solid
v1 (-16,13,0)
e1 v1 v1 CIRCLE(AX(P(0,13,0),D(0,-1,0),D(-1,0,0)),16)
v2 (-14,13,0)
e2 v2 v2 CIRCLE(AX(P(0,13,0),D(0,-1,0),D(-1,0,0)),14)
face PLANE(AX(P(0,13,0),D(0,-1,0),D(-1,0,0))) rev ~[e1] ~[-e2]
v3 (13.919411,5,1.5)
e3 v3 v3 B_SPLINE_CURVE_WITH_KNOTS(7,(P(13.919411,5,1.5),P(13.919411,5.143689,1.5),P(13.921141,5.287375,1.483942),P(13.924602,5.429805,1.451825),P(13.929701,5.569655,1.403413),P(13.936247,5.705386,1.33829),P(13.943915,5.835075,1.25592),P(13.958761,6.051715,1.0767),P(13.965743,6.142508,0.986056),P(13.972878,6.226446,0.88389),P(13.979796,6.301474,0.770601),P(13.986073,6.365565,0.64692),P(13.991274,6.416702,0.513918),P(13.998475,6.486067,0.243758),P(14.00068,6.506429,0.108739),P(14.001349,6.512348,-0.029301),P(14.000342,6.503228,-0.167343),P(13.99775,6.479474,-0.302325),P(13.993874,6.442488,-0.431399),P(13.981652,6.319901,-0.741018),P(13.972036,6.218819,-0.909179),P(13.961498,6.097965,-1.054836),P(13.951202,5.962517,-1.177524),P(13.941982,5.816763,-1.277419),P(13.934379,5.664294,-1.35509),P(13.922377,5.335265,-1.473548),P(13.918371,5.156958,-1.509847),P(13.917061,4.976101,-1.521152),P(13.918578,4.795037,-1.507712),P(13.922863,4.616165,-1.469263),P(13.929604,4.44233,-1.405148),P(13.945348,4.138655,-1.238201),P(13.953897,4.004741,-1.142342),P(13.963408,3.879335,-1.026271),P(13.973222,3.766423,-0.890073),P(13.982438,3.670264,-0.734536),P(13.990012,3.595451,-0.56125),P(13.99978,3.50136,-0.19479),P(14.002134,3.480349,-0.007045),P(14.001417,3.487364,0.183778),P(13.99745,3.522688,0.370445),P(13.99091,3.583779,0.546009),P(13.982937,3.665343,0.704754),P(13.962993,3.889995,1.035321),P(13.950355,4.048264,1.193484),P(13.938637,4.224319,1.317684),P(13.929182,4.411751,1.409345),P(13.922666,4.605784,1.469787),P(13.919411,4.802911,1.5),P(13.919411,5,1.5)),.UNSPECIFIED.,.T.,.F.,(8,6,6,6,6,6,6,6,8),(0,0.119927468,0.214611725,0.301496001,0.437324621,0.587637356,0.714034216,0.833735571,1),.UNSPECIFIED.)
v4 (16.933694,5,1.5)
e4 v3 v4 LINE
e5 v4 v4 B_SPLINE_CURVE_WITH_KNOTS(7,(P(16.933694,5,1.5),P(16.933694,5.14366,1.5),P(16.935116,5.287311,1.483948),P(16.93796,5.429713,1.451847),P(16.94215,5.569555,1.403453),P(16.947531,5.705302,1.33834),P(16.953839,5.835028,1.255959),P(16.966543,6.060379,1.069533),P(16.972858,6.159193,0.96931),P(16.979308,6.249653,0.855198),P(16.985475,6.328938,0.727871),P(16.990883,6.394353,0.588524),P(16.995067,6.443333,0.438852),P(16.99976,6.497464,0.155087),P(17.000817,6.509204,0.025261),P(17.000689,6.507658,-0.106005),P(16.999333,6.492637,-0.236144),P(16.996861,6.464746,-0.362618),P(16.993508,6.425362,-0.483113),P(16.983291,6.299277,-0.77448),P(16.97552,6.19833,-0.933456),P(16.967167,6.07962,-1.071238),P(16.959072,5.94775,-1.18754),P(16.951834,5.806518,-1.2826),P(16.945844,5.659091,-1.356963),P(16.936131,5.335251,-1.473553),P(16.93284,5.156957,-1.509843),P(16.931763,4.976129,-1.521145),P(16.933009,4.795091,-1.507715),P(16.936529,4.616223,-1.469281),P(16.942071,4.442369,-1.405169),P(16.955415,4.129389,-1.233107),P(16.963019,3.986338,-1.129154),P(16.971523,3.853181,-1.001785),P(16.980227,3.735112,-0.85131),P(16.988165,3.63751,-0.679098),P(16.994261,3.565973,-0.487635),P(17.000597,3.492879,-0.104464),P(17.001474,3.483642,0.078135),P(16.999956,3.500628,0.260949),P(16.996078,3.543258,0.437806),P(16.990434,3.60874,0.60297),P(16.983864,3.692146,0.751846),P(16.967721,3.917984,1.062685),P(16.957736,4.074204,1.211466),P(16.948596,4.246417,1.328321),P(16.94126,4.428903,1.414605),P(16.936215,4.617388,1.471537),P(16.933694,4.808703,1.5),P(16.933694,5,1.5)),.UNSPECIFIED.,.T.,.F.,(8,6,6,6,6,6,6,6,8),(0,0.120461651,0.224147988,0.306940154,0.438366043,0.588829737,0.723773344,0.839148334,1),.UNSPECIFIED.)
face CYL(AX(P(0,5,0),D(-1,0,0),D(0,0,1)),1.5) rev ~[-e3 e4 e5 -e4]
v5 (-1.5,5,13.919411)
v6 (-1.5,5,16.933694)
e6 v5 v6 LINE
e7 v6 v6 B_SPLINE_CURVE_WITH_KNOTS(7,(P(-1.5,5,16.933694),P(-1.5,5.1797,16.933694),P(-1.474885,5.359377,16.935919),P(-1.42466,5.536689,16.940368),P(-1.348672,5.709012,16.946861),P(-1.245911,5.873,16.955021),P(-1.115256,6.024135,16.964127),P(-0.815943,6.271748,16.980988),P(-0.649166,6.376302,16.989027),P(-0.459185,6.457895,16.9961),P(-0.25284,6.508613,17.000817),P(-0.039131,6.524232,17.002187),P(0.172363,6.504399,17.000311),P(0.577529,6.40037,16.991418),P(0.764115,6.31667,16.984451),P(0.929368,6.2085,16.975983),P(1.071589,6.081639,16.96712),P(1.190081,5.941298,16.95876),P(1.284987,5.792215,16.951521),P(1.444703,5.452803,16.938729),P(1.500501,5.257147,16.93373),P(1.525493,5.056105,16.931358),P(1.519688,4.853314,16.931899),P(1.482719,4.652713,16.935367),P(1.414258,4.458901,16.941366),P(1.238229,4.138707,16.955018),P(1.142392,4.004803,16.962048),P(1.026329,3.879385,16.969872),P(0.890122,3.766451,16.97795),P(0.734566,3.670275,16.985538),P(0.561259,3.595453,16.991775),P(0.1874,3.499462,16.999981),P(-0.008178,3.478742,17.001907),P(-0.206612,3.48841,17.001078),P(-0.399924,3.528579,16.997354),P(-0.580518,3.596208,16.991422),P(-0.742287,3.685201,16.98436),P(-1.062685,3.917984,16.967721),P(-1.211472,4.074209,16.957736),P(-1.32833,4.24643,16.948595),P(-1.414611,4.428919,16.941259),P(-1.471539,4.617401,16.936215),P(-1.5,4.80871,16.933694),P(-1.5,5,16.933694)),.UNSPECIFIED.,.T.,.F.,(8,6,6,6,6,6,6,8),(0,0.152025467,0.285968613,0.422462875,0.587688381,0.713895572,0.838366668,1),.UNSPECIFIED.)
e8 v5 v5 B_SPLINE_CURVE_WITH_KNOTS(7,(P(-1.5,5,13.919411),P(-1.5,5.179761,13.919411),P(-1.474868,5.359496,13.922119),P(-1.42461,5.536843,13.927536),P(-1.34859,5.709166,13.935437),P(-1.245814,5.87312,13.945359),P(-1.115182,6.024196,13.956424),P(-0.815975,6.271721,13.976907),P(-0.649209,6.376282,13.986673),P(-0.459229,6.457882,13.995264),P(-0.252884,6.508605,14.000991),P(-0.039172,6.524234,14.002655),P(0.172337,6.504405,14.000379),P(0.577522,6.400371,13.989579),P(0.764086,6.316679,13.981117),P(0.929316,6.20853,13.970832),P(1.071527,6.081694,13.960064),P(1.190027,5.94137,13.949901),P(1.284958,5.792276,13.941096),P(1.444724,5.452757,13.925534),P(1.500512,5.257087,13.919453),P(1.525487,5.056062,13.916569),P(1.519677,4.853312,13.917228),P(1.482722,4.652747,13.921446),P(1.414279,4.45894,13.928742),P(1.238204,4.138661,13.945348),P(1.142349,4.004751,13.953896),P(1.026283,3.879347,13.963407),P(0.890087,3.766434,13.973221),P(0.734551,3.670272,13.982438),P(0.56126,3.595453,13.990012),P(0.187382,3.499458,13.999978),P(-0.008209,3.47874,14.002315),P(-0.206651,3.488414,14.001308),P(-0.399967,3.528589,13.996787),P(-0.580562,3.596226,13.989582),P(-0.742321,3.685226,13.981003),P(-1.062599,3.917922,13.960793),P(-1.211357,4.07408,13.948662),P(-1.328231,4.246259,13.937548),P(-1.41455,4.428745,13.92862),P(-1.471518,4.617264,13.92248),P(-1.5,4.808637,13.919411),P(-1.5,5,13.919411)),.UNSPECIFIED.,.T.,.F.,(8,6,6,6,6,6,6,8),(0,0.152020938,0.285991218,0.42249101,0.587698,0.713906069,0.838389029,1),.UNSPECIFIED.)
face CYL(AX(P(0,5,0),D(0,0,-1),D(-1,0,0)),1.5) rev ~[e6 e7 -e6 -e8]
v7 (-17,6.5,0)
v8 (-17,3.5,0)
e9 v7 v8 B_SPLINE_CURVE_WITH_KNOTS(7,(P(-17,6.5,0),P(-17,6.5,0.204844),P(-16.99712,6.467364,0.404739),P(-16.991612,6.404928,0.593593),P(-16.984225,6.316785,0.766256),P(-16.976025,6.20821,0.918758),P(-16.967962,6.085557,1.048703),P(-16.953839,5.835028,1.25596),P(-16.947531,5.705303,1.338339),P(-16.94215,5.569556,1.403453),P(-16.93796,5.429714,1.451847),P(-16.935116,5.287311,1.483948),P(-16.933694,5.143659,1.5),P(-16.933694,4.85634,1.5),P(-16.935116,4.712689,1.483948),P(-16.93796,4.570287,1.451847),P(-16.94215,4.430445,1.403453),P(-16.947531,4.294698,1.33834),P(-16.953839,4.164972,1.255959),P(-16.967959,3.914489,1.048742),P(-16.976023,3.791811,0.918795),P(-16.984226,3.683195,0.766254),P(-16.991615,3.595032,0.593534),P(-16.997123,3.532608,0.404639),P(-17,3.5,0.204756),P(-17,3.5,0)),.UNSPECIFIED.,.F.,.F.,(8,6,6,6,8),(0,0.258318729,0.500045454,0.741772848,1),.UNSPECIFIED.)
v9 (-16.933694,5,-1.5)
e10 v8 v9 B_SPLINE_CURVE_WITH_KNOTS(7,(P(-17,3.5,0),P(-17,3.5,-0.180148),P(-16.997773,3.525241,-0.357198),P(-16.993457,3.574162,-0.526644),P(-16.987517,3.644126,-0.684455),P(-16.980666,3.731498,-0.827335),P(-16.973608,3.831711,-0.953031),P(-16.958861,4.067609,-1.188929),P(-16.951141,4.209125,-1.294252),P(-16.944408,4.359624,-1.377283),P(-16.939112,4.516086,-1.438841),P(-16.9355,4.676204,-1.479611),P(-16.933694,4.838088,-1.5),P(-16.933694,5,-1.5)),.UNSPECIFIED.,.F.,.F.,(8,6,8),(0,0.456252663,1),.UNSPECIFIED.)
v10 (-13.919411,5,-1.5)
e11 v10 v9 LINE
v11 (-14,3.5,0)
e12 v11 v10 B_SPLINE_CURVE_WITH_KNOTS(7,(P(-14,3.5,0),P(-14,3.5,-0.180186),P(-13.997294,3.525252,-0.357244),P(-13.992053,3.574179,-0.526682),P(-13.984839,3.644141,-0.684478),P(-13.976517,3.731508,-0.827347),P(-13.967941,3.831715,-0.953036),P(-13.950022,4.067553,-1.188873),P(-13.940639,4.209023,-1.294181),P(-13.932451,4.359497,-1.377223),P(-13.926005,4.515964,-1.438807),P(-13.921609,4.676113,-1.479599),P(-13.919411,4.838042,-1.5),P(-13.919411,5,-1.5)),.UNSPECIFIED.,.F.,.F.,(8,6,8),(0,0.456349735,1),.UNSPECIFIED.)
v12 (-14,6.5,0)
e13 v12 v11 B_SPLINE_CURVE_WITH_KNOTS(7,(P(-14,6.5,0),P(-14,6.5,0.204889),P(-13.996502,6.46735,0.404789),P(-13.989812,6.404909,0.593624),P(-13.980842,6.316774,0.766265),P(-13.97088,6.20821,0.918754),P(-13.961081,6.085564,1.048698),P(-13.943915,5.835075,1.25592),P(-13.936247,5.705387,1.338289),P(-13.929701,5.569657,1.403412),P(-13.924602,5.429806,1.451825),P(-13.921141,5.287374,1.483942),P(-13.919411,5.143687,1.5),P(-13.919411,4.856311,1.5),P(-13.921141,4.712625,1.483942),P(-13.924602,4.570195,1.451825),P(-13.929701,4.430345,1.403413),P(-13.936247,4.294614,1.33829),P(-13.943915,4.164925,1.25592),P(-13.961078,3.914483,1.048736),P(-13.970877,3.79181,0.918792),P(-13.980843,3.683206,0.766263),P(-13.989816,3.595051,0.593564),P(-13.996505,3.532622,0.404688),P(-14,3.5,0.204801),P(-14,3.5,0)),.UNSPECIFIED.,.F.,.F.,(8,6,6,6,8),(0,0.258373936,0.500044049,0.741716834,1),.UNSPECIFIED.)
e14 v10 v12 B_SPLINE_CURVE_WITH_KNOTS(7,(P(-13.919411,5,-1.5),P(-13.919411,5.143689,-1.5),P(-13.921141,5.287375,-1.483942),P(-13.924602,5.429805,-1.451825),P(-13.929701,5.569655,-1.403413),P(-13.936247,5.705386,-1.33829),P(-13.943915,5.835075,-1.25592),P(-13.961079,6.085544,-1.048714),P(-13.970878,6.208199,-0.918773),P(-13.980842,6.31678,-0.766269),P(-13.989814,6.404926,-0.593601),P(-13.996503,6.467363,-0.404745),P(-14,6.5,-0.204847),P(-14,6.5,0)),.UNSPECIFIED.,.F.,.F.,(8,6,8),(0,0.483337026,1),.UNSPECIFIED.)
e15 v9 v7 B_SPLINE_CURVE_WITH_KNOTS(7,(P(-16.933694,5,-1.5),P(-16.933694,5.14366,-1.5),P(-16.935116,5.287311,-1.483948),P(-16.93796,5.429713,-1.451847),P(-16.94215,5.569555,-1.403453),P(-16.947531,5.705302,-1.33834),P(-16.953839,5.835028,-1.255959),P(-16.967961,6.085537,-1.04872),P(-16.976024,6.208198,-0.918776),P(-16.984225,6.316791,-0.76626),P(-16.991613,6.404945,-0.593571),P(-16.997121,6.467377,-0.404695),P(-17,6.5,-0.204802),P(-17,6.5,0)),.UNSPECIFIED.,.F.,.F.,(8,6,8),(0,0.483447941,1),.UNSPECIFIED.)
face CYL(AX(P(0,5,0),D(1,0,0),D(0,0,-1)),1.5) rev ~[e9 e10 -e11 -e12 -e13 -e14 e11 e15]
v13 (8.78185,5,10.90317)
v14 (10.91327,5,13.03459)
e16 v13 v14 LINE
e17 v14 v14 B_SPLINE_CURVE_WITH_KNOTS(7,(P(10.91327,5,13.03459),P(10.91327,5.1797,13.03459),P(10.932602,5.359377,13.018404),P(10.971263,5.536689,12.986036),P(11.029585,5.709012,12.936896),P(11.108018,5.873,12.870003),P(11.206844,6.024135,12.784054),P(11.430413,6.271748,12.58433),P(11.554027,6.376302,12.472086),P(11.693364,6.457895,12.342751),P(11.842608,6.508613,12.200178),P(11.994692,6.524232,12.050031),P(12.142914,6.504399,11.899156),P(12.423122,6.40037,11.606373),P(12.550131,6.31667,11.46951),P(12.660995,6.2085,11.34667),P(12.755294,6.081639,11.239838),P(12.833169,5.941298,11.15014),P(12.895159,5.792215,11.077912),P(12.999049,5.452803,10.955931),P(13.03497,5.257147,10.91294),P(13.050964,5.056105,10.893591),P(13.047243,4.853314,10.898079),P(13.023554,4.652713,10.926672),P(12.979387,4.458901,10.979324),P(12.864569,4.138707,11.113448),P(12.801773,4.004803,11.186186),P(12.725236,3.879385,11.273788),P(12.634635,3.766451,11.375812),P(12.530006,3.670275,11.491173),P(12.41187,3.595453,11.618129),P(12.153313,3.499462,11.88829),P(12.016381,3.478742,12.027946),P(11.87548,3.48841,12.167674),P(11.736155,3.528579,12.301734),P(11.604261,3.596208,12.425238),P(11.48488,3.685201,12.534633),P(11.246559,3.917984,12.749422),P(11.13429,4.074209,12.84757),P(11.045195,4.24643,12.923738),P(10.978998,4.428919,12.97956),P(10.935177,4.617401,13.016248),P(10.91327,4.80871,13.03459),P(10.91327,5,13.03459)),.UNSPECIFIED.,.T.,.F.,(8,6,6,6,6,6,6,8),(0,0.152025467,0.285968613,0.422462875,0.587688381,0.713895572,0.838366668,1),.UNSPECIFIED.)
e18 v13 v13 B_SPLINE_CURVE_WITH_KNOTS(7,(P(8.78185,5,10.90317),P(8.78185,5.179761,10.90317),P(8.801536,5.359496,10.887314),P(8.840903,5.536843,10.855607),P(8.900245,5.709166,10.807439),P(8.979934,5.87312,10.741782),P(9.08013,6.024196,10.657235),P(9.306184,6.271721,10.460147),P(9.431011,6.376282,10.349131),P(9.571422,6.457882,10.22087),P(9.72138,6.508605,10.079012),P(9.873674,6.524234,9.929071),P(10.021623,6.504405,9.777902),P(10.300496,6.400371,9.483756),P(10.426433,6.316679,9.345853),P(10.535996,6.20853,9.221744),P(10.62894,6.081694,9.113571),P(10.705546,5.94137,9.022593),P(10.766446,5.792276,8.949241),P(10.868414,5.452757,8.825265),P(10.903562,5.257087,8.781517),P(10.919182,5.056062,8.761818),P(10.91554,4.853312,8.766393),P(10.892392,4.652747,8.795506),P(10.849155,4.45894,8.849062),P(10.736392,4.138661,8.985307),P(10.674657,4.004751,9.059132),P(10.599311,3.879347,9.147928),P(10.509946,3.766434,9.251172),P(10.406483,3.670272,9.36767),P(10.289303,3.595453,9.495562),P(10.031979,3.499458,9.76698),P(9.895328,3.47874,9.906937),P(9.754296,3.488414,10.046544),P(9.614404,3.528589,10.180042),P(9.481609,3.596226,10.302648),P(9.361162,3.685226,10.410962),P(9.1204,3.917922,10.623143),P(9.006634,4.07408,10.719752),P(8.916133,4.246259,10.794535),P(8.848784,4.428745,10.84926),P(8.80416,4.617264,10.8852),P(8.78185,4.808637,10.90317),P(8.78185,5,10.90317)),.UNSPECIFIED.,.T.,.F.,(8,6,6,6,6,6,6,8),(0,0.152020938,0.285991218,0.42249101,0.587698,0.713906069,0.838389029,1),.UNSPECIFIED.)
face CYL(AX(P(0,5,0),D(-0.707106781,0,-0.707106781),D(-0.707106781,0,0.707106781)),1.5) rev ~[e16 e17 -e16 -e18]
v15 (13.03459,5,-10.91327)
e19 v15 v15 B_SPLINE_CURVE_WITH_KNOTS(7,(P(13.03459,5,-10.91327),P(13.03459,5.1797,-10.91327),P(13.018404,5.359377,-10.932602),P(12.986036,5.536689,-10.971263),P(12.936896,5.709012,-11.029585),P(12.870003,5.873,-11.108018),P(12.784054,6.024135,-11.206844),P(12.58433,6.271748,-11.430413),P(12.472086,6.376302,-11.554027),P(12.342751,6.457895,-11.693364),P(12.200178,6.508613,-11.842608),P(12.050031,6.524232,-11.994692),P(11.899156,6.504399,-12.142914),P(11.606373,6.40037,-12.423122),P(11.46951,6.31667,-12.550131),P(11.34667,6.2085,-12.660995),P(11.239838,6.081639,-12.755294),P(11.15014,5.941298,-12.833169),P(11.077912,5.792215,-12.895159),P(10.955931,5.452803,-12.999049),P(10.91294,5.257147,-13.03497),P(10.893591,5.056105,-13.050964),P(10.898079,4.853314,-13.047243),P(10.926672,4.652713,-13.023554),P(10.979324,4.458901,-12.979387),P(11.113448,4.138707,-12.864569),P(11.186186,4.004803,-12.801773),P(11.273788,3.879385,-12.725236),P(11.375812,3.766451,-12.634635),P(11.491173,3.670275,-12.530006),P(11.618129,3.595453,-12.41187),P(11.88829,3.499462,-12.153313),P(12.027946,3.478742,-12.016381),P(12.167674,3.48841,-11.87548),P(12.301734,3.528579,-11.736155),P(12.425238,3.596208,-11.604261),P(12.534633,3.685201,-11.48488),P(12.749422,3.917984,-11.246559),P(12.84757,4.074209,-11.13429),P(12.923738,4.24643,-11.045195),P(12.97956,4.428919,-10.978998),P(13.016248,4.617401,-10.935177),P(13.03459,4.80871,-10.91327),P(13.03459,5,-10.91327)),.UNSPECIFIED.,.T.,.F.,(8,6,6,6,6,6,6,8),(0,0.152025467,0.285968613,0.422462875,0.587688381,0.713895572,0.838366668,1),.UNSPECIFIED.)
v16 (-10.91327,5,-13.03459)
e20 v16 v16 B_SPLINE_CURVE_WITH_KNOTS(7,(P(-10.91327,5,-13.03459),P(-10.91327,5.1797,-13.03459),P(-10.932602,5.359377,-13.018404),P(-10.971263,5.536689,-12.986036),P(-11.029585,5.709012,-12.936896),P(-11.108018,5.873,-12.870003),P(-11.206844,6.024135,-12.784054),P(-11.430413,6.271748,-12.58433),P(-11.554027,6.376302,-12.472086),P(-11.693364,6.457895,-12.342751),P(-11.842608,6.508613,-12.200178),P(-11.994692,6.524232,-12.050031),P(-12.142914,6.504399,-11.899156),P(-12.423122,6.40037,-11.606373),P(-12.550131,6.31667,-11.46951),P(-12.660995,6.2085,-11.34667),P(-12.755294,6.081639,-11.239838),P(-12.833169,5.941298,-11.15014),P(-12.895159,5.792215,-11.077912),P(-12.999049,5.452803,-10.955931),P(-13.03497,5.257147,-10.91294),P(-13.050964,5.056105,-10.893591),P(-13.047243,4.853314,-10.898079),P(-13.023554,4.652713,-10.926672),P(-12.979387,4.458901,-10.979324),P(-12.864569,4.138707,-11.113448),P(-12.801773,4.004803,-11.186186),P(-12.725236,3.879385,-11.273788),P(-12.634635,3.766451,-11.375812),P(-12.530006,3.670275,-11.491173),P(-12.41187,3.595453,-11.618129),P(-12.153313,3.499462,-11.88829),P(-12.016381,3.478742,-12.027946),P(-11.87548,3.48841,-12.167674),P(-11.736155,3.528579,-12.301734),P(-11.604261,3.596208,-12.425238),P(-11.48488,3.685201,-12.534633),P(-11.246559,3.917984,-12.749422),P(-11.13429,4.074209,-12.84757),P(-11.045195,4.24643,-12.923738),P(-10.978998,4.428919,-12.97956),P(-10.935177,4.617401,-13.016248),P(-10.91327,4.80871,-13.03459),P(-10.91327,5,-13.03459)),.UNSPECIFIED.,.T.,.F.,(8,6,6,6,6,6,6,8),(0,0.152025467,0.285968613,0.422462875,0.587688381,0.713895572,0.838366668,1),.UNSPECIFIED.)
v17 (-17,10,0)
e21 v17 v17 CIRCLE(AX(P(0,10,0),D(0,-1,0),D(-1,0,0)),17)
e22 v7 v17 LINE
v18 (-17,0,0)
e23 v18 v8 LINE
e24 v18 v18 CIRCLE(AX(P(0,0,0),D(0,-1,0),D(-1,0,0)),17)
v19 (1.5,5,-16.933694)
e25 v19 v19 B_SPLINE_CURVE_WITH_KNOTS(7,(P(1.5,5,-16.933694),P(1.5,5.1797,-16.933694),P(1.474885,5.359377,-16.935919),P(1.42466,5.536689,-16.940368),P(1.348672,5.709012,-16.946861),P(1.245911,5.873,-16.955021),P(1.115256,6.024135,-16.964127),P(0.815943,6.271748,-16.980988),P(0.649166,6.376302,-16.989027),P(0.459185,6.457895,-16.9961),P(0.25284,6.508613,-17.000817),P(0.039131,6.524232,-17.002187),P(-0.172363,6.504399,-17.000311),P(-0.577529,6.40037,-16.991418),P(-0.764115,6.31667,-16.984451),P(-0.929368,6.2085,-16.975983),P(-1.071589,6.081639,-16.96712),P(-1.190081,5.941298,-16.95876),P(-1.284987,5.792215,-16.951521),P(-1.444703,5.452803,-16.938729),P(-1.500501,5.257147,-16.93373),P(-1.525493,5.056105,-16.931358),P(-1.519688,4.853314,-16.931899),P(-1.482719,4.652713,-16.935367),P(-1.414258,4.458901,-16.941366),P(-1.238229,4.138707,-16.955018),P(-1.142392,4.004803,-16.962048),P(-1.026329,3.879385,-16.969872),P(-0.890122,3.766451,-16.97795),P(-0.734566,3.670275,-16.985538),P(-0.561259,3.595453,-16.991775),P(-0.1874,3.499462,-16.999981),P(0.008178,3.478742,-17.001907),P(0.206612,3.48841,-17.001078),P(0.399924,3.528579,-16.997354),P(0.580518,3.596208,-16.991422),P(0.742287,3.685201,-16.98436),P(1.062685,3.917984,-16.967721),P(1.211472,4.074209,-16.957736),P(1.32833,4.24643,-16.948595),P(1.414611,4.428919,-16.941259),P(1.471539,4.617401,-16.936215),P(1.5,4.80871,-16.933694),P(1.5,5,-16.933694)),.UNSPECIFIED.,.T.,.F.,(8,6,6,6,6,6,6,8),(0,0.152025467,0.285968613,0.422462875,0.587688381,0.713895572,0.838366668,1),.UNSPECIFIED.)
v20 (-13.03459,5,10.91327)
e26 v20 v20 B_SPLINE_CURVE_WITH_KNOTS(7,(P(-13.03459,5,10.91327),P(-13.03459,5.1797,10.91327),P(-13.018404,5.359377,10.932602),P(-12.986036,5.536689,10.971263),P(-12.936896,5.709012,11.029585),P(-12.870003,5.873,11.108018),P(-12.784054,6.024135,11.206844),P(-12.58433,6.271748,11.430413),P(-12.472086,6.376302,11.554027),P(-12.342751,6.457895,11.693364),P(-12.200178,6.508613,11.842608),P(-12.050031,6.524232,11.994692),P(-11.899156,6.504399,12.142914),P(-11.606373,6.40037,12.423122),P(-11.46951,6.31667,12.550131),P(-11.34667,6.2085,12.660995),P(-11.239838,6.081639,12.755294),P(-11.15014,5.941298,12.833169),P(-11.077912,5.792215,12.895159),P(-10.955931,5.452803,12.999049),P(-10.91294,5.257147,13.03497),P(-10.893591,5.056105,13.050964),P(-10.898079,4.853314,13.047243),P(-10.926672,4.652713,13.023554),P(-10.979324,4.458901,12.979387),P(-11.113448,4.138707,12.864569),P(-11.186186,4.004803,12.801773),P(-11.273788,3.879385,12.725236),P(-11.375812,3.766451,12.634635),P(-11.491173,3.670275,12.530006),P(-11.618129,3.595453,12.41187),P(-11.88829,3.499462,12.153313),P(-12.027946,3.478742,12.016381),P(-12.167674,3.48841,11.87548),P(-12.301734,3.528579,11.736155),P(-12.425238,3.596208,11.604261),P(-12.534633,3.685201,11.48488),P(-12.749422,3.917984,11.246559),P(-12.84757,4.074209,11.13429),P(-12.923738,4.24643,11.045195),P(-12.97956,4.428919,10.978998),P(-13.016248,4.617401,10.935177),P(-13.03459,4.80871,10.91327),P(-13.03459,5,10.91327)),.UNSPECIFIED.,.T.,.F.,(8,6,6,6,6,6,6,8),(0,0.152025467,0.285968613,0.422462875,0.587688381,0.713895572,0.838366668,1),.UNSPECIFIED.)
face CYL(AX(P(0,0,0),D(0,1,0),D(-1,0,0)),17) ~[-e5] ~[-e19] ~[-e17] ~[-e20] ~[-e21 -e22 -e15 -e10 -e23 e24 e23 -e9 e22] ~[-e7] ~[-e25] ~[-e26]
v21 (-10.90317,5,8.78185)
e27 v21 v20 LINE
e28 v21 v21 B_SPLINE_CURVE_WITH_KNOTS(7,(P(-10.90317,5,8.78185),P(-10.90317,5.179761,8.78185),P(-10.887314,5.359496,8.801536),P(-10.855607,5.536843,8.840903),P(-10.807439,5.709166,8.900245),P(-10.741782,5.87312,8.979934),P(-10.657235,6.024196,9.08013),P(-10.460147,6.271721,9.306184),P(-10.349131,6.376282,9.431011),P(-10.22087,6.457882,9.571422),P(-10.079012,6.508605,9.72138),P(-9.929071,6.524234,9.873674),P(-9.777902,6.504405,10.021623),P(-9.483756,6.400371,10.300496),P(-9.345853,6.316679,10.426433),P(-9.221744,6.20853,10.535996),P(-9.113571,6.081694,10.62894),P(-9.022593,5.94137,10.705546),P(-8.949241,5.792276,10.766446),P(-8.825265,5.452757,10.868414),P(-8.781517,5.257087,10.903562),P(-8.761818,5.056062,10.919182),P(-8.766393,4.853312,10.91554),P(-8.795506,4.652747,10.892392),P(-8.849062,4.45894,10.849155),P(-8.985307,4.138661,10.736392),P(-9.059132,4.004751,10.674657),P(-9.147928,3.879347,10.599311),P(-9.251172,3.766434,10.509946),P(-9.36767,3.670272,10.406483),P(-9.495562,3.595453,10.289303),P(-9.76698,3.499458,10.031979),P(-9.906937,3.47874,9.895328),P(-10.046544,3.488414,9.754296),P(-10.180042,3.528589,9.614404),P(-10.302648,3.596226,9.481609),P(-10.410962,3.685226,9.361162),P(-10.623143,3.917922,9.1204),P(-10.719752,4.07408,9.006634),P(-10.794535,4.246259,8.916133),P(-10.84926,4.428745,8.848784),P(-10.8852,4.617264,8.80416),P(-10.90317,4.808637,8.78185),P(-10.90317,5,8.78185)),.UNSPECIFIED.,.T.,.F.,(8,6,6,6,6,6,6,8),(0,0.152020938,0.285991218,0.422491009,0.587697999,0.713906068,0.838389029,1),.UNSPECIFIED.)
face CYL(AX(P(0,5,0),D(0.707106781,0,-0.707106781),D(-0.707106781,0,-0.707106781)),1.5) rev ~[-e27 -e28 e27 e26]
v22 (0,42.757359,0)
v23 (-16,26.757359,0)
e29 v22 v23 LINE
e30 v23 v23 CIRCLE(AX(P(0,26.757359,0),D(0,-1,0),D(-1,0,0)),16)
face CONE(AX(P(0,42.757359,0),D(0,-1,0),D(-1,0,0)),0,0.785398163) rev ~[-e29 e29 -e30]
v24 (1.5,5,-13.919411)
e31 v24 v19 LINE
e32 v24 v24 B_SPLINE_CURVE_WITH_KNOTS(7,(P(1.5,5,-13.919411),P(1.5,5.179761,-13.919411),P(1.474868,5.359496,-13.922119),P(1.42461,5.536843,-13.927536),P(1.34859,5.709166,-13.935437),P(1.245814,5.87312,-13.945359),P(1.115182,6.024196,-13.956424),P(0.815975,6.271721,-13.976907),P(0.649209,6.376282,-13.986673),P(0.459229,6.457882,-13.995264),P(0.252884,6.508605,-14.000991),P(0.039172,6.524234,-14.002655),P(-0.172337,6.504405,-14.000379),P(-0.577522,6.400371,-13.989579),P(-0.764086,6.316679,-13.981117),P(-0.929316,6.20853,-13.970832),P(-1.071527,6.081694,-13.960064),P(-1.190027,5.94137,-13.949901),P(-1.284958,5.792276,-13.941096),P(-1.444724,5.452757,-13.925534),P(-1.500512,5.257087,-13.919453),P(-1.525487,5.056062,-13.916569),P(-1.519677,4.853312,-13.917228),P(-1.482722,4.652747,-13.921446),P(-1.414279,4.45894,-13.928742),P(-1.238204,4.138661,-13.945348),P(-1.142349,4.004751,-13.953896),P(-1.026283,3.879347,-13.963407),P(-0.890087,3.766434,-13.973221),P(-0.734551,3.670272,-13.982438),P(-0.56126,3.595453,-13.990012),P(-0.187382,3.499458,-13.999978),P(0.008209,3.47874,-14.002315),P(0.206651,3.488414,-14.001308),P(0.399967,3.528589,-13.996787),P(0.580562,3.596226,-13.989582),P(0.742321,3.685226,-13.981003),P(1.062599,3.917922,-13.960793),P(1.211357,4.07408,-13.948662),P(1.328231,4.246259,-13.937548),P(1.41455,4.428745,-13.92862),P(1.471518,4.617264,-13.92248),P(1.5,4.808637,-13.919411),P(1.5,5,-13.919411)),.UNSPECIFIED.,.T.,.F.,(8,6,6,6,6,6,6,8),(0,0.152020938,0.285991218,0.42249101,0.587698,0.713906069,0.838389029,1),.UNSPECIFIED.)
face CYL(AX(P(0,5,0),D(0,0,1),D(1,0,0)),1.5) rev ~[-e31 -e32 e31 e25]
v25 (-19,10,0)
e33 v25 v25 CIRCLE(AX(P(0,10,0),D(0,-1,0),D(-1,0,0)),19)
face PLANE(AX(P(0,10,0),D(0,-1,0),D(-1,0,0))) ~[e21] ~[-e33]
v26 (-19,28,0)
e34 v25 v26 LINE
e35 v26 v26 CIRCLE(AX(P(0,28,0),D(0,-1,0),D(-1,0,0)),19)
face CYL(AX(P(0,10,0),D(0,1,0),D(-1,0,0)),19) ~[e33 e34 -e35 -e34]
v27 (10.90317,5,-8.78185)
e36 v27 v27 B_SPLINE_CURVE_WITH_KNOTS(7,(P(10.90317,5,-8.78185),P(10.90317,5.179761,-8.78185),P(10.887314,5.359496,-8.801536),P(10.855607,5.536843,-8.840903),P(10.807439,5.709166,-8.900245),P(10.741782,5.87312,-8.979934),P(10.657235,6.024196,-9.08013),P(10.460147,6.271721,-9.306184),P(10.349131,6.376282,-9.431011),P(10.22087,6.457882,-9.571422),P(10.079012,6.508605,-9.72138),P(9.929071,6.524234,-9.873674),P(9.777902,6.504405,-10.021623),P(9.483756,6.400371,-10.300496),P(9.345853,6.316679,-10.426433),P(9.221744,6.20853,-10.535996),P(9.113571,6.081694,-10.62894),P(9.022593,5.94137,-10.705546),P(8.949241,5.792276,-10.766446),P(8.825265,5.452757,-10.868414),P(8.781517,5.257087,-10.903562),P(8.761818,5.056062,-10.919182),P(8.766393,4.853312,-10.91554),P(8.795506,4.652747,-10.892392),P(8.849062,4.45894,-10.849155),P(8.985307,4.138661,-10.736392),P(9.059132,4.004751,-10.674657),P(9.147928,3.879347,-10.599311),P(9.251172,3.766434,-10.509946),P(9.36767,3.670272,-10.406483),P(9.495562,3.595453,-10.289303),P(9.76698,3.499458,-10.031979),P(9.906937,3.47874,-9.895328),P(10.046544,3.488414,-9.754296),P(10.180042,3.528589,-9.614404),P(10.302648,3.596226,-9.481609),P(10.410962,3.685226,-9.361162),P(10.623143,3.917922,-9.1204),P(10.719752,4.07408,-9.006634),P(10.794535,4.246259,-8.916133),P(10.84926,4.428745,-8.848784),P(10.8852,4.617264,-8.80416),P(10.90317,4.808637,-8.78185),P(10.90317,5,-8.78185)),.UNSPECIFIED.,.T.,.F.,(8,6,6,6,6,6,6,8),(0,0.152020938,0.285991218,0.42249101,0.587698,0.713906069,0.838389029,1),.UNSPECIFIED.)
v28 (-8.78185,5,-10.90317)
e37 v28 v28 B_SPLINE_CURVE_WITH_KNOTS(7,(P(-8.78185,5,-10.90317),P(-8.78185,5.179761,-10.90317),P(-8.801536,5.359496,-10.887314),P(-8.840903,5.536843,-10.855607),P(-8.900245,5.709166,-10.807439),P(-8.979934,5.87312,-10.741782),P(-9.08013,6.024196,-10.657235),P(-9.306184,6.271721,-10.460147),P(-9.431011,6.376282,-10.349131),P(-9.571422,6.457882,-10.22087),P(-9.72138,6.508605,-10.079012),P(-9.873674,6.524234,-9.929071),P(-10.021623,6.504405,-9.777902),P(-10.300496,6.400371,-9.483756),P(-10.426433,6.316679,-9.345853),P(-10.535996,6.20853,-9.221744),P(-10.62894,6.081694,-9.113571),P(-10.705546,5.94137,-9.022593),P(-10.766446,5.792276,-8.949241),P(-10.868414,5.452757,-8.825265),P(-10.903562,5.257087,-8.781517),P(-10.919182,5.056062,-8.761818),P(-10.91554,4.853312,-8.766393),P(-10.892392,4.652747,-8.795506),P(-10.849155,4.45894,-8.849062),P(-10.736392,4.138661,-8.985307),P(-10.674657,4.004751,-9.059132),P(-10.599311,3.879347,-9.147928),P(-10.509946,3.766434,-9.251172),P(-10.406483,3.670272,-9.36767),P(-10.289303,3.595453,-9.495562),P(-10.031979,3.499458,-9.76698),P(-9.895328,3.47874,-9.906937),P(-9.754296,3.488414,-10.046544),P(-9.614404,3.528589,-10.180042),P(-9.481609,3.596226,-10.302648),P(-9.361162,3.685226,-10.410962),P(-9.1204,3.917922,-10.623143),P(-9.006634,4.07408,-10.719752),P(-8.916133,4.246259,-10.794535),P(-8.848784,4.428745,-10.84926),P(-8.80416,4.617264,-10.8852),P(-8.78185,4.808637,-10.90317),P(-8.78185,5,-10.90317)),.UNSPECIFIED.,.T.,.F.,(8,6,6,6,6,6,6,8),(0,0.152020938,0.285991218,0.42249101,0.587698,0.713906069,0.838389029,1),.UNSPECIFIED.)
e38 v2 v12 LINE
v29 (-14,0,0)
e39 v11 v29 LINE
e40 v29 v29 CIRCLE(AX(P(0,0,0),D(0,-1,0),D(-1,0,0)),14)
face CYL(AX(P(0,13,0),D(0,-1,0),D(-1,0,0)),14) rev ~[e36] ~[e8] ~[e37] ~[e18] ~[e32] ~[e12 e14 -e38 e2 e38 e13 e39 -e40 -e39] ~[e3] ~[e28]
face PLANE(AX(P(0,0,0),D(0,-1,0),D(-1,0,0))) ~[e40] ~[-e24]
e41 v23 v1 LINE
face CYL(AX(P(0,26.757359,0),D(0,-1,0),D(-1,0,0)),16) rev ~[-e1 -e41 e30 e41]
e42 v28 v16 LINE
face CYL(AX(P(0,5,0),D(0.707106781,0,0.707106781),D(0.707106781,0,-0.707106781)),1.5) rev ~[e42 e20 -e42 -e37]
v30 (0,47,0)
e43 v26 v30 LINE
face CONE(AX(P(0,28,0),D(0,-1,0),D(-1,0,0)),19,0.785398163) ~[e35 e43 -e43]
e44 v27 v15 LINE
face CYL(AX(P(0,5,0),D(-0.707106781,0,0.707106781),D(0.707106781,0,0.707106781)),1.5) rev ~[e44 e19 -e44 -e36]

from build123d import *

# Parameters (mm, degrees)
SKETCH3_R          = 1.5
CUT_EXTRUDE1_DEPTH = 55.138710735
CIRPATTERN1_COUNT  = 8


with BuildPart() as part:
    # Sketch2 → Revolve1 (revolve)
    with BuildSketch(Plane.XY, mode=Mode.PRIVATE) as revolve1_sk:
        Polygon((17, 0), (17, 10), (19, 10), (19, 28), (0, 47), (0, 42.757359313), (16, 26.757359313), (16, 13), (14, 13), (14, 0), align=None)
    revolve(revolve1_sk.sketch.rotate(Axis((0, 26.112729166, 0), (0, -1, 0)), 180), axis=Axis((0, 26.112729166, 0), (0, -1, 0)))

    # Sketch3 → Cut-Extrude1 (cut, through all)
    with BuildSketch(Plane.XY):
        with Locations((0, 5)):
            Circle(SKETCH3_R)
    cut_extrude1 = extrude(amount=-CUT_EXTRUDE1_DEPTH, mode=Mode.SUBTRACT)

    # CirPattern1: Cut-Extrude1 ×8 about axis
    cirpattern1_axis = Axis((0, 26.112729166, 0), (0, 1, 0))
    for i in range(1, CIRPATTERN1_COUNT):
        add(cut_extrude1.rotate(cirpattern1_axis, i * 360 / CIRPATTERN1_COUNT), mode=Mode.SUBTRACT)


solid = part.part
